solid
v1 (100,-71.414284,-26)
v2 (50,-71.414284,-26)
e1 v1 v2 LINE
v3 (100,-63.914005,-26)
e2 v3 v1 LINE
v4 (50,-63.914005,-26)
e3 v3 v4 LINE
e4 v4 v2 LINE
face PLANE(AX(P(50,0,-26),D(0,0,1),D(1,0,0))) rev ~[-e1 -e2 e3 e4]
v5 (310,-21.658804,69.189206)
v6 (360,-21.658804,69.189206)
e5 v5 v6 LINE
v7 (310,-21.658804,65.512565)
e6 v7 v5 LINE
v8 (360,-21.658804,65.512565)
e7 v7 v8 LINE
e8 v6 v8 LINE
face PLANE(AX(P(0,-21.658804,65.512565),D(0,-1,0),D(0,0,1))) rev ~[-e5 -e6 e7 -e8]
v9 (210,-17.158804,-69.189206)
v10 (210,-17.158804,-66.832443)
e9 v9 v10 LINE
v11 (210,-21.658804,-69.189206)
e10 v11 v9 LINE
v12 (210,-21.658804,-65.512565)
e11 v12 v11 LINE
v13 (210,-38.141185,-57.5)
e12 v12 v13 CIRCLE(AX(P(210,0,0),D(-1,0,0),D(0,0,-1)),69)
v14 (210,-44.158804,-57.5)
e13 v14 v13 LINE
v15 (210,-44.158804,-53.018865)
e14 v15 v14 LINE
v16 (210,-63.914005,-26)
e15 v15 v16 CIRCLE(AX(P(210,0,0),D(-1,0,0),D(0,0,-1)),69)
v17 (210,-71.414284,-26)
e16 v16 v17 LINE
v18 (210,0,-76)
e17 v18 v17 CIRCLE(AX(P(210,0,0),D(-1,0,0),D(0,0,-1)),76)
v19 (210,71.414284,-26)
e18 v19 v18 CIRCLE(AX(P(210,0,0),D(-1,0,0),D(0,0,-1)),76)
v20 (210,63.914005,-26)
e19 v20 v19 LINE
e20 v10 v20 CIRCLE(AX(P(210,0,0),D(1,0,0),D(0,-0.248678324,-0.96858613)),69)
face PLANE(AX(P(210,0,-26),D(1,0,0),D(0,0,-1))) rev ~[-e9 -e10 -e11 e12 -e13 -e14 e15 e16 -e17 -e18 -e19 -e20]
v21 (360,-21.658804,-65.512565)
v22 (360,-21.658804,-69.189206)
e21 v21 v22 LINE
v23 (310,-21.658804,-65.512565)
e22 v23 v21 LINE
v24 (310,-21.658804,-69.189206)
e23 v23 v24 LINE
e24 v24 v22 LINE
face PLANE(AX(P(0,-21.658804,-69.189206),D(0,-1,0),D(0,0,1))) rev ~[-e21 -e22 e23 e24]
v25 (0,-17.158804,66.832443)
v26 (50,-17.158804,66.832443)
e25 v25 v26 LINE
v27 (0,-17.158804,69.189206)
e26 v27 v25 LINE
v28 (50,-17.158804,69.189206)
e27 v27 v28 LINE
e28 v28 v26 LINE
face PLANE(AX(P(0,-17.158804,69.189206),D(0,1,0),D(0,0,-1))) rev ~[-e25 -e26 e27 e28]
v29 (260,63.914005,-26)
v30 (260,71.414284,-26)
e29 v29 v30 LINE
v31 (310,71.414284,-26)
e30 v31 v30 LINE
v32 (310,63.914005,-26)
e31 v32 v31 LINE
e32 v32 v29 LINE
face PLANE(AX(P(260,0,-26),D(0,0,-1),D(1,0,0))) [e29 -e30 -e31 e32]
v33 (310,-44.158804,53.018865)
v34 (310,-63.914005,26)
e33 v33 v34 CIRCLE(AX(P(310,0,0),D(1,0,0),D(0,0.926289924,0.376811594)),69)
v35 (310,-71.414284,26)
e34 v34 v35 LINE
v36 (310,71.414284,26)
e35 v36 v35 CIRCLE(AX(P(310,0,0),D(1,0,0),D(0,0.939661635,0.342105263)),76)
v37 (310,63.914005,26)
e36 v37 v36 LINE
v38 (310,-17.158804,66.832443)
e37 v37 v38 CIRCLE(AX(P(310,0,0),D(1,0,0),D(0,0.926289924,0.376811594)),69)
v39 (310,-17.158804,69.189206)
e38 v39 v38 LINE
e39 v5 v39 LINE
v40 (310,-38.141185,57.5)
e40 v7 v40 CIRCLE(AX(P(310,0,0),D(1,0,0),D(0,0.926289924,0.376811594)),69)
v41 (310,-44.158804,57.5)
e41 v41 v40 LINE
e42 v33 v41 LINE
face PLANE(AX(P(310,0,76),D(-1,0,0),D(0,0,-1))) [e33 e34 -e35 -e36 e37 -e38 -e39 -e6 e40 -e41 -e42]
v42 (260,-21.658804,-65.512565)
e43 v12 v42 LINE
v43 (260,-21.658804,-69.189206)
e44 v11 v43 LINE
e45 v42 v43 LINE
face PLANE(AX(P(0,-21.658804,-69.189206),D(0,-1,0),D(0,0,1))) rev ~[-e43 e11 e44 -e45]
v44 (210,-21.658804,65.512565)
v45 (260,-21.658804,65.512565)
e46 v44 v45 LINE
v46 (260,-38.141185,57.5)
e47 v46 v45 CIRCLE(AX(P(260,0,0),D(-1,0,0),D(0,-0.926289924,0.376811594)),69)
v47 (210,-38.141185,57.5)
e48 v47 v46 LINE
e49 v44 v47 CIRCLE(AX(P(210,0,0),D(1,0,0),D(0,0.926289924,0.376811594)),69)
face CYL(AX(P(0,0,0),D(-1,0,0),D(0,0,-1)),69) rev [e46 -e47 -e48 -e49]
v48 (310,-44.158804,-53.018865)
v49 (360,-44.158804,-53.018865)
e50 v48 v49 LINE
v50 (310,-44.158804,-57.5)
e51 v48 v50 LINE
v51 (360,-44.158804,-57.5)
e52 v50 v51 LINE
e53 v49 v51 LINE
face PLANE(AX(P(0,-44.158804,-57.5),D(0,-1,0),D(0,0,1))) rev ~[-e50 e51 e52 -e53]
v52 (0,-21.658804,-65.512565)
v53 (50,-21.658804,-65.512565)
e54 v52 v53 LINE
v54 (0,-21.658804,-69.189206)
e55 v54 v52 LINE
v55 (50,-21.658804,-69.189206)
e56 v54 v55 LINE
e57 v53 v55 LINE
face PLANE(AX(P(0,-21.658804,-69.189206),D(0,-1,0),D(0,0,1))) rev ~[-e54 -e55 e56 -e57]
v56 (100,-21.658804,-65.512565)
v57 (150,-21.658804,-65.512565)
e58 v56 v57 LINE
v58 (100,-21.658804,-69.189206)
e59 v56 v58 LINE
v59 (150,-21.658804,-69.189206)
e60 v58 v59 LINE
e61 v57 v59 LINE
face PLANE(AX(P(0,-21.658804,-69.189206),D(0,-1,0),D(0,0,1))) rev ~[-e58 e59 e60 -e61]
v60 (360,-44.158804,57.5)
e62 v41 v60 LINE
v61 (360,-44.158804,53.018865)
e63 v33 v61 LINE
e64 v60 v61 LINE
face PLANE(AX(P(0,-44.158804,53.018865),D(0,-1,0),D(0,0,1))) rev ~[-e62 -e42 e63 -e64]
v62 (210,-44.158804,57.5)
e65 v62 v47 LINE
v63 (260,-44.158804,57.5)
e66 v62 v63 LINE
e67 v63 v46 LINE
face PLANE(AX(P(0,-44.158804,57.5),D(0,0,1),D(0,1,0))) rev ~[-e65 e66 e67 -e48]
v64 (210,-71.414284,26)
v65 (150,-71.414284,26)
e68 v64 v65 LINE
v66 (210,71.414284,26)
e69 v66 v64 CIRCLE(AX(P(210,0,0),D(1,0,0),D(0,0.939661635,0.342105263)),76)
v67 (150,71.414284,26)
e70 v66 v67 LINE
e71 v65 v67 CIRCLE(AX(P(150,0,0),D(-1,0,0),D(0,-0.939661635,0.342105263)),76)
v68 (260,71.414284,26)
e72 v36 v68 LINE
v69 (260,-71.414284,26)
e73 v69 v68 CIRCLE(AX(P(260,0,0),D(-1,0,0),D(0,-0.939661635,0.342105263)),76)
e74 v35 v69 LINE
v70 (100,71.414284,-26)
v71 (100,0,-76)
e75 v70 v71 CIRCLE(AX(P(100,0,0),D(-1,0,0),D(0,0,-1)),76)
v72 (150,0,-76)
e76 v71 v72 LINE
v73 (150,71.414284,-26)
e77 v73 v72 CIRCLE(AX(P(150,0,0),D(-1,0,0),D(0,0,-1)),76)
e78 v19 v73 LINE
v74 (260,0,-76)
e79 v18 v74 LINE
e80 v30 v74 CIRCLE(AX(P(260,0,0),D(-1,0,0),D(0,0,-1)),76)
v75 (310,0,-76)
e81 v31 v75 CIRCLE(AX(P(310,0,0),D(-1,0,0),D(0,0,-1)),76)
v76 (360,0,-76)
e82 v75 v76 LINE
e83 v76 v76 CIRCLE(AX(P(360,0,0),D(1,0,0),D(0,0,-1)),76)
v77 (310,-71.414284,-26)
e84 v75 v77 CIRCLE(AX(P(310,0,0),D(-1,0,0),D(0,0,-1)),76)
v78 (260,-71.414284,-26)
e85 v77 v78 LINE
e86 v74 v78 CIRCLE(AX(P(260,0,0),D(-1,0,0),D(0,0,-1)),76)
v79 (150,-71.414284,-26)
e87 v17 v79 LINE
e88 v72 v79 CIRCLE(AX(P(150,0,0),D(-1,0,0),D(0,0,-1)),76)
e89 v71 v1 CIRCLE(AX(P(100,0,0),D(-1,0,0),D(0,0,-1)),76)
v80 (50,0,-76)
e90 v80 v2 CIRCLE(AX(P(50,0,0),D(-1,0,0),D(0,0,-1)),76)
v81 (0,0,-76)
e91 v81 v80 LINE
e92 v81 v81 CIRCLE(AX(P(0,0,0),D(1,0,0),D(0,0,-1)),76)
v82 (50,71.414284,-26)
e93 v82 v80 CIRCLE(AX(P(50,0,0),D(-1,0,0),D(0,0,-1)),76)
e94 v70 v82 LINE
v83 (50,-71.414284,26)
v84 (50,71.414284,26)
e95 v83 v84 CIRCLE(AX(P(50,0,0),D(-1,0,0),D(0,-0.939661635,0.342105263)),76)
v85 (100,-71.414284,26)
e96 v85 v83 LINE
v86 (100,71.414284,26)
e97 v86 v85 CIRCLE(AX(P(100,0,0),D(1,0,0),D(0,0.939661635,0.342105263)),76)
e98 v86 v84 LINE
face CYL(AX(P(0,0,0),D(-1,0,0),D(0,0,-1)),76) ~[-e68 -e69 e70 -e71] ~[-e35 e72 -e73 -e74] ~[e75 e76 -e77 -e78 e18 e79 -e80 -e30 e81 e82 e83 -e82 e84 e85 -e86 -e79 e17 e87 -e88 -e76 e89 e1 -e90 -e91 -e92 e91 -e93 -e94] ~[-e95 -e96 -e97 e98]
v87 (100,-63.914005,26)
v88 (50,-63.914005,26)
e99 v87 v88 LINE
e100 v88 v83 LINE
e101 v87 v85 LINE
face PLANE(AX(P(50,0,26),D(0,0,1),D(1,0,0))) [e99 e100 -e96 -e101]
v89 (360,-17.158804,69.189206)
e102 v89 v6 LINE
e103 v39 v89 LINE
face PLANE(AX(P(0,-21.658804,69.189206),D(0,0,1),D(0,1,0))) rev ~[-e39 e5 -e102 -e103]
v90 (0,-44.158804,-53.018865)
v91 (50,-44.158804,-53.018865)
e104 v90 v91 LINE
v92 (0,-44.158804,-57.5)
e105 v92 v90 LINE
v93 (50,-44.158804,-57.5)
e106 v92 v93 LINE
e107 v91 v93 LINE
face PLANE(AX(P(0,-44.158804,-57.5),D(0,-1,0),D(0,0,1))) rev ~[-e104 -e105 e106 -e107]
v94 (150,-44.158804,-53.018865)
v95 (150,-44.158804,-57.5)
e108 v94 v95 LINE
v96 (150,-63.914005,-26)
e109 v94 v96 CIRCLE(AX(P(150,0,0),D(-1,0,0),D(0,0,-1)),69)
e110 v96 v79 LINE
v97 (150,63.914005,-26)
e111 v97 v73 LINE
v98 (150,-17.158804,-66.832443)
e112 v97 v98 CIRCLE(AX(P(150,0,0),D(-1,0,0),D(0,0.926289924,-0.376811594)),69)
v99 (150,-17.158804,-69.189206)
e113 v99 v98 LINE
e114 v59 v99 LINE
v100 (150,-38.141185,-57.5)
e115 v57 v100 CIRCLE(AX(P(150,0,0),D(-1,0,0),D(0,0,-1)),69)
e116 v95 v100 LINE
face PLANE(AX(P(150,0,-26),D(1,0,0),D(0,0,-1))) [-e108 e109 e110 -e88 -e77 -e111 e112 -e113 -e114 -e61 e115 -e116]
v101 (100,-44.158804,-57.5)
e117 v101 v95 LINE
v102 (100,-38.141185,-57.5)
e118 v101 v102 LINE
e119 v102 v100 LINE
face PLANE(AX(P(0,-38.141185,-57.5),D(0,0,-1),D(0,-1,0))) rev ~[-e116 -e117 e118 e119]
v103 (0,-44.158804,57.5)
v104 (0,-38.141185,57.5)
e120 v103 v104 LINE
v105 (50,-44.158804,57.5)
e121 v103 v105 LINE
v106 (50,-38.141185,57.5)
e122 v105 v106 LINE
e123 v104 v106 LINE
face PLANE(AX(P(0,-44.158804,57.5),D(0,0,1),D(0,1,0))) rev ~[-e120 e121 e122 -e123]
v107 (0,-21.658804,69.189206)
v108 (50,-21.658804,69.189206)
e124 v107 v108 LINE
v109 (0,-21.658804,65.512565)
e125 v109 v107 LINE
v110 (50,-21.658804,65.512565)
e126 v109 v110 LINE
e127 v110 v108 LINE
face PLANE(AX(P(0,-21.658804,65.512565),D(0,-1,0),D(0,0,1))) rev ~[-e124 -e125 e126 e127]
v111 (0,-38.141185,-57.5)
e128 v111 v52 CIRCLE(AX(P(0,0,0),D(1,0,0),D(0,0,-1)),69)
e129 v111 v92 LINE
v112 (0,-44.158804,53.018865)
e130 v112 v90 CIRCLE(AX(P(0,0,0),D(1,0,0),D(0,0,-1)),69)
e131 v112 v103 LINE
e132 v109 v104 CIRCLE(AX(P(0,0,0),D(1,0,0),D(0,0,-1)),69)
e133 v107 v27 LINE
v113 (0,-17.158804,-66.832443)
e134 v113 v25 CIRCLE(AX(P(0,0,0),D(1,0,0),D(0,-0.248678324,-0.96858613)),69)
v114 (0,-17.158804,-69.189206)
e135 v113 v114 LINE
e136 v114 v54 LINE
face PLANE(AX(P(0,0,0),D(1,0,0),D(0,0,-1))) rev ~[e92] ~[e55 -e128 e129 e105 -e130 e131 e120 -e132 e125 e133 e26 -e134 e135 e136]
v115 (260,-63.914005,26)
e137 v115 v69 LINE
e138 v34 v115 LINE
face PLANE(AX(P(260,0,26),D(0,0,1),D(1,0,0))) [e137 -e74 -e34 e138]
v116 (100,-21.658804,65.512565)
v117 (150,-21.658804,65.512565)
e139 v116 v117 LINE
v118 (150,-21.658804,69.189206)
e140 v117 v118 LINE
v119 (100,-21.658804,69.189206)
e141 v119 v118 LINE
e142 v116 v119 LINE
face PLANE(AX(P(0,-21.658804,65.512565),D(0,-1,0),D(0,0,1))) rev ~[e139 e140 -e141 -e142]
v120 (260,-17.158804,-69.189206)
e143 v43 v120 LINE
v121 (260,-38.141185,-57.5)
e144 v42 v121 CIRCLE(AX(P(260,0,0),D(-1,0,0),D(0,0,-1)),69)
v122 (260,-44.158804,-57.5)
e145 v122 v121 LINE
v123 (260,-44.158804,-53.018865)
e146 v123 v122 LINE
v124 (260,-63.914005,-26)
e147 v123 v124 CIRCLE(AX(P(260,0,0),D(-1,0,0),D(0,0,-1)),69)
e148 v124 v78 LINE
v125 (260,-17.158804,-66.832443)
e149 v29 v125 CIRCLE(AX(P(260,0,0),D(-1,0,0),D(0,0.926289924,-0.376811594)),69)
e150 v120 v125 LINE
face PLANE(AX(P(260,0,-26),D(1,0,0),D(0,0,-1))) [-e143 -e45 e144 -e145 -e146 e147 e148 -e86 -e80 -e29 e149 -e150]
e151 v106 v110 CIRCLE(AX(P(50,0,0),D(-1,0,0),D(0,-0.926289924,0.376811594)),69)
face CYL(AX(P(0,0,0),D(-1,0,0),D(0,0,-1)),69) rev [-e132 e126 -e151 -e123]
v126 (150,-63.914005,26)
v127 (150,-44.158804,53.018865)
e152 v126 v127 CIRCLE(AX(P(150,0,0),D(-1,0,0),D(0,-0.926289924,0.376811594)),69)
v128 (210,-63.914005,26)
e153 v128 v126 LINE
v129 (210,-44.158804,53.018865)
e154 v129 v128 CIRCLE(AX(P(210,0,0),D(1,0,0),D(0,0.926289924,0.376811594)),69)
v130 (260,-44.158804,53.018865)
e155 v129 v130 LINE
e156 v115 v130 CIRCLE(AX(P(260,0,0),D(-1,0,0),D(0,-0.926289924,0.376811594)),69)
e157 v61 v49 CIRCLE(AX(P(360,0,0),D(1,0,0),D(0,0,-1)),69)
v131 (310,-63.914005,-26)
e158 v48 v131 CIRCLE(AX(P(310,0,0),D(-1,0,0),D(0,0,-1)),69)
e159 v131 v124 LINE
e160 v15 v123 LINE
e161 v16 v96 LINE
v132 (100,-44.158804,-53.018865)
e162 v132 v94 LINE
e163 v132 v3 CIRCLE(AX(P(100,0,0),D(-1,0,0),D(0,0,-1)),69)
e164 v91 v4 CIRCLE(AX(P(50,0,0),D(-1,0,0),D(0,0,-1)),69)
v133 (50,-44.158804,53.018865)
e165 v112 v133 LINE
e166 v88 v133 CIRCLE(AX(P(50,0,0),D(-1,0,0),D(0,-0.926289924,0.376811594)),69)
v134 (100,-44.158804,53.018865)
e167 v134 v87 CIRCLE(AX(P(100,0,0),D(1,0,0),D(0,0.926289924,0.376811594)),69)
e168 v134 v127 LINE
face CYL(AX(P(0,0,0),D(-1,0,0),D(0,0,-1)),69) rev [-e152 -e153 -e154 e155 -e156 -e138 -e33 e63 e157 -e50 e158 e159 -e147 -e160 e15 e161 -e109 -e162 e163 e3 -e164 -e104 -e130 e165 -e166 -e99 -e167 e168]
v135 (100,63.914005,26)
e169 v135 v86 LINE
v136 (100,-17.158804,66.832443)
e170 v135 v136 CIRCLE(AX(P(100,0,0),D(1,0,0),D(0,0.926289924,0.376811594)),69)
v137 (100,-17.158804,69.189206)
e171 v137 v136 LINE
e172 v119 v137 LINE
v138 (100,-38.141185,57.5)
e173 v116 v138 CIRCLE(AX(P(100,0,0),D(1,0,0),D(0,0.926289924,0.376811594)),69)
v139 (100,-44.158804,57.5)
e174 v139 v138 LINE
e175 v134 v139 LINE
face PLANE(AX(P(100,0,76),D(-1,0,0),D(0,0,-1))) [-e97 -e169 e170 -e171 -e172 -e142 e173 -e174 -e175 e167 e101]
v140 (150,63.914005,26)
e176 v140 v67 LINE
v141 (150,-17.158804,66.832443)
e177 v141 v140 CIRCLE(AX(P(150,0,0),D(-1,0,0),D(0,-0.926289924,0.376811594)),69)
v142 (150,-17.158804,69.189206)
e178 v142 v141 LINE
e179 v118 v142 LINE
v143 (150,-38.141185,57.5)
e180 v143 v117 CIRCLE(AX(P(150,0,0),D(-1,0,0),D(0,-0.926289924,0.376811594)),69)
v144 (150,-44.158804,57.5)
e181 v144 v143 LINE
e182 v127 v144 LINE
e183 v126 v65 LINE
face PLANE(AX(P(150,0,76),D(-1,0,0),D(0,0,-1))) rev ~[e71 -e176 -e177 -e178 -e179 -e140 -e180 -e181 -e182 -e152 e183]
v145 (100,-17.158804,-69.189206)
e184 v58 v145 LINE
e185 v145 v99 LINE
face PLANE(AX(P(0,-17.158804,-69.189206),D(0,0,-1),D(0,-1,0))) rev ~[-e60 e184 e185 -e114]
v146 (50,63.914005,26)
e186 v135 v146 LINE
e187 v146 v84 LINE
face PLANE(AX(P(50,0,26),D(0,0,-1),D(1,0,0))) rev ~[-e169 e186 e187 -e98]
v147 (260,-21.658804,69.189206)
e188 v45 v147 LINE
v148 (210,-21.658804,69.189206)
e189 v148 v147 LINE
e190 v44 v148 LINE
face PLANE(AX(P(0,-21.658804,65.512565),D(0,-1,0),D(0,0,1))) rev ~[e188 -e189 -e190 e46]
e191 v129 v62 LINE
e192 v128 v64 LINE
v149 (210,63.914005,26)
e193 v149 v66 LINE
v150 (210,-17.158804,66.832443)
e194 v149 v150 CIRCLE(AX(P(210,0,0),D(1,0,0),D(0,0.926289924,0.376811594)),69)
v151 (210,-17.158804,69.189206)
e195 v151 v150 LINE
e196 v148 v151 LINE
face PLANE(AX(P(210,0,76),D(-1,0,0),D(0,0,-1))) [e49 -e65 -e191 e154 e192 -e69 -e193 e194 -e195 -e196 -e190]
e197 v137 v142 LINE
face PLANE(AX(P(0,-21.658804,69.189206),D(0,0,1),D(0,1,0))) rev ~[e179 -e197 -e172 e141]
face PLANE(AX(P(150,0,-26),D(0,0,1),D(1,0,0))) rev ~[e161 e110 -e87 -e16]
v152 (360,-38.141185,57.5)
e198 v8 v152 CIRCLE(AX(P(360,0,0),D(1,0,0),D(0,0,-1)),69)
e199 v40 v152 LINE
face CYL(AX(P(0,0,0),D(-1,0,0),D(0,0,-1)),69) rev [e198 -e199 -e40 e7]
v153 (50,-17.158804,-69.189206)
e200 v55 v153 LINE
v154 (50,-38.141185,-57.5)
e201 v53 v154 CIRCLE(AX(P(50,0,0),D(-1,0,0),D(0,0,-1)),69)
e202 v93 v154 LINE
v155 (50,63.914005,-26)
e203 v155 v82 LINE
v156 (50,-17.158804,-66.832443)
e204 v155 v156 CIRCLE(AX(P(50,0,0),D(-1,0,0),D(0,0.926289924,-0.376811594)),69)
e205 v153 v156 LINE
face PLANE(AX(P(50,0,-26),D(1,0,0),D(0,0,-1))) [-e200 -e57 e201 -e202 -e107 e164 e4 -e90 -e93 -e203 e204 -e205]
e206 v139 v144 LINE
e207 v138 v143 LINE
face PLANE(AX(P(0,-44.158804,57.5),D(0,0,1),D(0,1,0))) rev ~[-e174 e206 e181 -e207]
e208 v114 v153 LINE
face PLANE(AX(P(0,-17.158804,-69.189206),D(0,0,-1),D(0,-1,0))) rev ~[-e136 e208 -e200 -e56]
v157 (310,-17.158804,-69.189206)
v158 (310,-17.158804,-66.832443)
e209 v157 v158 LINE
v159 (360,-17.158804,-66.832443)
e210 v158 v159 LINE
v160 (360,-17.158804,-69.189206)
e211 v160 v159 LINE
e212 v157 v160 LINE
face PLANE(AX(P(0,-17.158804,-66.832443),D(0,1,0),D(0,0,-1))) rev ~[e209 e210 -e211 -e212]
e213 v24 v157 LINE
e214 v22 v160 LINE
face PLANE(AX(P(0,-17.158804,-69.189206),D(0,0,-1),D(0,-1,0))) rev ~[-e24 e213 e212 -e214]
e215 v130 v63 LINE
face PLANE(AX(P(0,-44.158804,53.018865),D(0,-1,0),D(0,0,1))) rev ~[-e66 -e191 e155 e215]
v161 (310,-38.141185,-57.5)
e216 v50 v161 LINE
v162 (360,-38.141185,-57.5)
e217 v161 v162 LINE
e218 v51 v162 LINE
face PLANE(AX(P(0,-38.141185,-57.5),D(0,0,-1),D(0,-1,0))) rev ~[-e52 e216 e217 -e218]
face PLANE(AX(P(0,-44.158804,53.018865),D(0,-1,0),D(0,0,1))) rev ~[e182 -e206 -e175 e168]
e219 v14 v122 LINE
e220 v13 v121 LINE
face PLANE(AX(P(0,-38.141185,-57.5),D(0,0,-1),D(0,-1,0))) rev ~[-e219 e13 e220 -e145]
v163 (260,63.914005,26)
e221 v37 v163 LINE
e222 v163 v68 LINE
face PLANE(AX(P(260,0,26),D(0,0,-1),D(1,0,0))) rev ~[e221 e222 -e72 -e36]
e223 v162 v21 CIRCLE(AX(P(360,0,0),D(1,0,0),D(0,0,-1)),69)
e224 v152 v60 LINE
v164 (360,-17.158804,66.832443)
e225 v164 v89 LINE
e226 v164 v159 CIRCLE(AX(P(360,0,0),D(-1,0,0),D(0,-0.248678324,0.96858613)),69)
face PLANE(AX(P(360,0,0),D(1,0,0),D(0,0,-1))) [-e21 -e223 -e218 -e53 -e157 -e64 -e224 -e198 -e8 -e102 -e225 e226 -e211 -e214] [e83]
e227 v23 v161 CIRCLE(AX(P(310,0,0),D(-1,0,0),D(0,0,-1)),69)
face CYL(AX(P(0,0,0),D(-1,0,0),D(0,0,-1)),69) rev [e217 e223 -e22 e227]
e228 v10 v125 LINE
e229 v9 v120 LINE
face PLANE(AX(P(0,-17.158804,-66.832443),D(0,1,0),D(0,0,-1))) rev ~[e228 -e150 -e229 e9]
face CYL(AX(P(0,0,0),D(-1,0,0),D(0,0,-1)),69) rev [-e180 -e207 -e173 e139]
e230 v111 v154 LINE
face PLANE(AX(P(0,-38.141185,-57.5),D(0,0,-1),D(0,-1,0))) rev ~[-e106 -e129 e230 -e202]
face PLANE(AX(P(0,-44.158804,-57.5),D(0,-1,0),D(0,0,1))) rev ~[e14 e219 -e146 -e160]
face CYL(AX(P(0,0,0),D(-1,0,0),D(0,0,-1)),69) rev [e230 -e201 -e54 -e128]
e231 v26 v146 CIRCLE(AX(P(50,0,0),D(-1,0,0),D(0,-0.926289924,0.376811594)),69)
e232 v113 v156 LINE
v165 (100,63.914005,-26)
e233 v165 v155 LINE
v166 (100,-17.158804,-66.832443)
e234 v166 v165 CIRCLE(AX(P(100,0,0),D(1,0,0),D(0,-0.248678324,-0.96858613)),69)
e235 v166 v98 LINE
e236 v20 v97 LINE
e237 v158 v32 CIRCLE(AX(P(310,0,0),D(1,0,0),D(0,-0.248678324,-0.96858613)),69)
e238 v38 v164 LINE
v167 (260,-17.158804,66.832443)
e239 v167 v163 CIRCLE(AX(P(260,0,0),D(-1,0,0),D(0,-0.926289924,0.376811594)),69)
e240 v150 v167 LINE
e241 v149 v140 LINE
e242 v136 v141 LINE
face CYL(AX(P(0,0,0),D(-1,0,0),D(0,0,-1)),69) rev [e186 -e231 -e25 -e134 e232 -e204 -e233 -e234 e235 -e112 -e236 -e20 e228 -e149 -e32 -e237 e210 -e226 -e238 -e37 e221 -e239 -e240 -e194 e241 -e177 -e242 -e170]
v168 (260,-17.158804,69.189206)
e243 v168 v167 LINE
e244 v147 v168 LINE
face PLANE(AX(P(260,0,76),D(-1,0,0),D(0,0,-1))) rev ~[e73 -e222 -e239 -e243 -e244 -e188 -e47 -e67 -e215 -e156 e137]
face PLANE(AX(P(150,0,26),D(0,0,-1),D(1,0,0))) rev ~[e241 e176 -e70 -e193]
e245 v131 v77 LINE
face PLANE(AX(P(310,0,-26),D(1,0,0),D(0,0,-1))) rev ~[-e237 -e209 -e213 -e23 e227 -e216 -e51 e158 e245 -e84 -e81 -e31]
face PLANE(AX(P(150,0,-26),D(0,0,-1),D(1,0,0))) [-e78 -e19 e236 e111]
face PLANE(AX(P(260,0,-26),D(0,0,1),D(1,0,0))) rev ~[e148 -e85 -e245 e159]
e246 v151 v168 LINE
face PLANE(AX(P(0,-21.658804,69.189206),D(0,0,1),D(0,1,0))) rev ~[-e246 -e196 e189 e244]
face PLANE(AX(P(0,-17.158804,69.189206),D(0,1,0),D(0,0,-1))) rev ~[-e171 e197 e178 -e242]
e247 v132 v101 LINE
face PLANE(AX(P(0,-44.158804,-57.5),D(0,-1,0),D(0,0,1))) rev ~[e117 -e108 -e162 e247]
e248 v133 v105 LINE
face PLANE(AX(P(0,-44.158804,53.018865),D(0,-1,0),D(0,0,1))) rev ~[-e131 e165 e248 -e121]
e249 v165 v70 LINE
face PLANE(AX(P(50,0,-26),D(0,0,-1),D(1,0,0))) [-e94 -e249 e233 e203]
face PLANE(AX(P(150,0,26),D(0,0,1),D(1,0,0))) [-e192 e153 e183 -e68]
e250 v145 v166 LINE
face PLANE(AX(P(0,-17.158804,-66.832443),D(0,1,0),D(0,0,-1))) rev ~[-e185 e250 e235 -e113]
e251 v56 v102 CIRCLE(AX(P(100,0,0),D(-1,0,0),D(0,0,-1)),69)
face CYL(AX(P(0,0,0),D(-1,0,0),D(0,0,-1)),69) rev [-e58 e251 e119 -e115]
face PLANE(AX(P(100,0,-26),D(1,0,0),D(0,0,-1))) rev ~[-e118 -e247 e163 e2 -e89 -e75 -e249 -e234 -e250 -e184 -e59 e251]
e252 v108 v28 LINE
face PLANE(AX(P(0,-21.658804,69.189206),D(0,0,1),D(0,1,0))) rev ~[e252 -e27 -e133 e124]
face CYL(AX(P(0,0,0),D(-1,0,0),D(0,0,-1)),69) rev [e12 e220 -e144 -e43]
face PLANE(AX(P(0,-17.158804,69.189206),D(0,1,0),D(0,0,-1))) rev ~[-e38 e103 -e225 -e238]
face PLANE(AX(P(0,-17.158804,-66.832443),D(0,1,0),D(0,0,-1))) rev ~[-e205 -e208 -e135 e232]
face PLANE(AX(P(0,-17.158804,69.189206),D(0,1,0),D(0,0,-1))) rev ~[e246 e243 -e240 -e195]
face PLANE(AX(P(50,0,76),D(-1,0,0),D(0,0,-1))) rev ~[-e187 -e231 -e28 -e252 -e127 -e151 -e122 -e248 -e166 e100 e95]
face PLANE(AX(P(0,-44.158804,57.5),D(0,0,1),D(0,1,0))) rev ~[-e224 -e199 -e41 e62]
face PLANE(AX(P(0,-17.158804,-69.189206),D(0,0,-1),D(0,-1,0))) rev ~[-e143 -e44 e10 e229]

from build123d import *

# Parameters (mm, degrees)
SKETCH1_R               = 76
SKETCH1_R_2             = 69
BOSS_EXTRUDE3_DEPTH     = 360
SKETCH2_W               = 50
SKETCH2_H               = 50
SKETCH2_W_2             = 60
CUT_EXTRUDE1_DEPTH      = 125
CUT_EXTRUDE1_DEPTH_BACK = 135
SKETCH3_W               = 60
SKETCH3_H               = 50
SKETCH3_W_2             = 50
CUT_EXTRUDE3_DEPTH      = 196
CUT_EXTRUDE3_DEPTH_BACK = 244
CUT_EXTRUDE4_DEPTH      = 404


with BuildPart() as part:
    # Sketch1 → Boss-Extrude3 (new body)
    with BuildSketch(Plane(origin=(0, 0, 0), x_dir=(0, 0, -1), z_dir=(1, 0, 0))):
        Circle(SKETCH1_R)
        Circle(SKETCH1_R_2, mode=Mode.SUBTRACT)
    extrude(amount=BOSS_EXTRUDE3_DEPTH)

    # Sketch2 → Cut-Extrude1 (cut, two sides)
    with BuildSketch(Plane(origin=(0, 0, 0), x_dir=(1, 0, 0), z_dir=(0, 1, 0))) as cut_extrude1_sk:
        with Locations((75, 51)):
            Rectangle(SKETCH2_W, SKETCH2_H)
        with Locations((285, 51)):
            Rectangle(SKETCH2_W, SKETCH2_H)
        with Locations((180, 51)):
            Rectangle(SKETCH2_W_2, SKETCH2_H)
    extrude(amount=CUT_EXTRUDE1_DEPTH, mode=Mode.SUBTRACT)
    extrude(cut_extrude1_sk.sketch, amount=-CUT_EXTRUDE1_DEPTH_BACK, mode=Mode.SUBTRACT)

    # Sketch3 → Cut-Extrude3 (cut, two sides)
    with BuildSketch(Plane(origin=(0, 0, 0), x_dir=(1, 0, 0), z_dir=(0, 1, 0))) as cut_extrude3_sk:
        with Locations((180, -51)):
            Rectangle(SKETCH3_W, SKETCH3_H)
        with Locations((75, -51)):
            Rectangle(SKETCH3_W_2, SKETCH3_H)
        with Locations((285, -51)):
            Rectangle(SKETCH3_W_2, SKETCH3_H)
    extrude(amount=CUT_EXTRUDE3_DEPTH, mode=Mode.SUBTRACT)
    extrude(cut_extrude3_sk.sketch, amount=-CUT_EXTRUDE3_DEPTH_BACK, mode=Mode.SUBTRACT)

    # Sketch4 → Cut-Extrude4 (cut)
    with BuildSketch(Plane.ZY):
        with BuildLine():
            Line((-69.189205769, -21.658804332), (-65.512565168, -21.658804332))
            ThreePointArc((-65.512565168, -21.658804332), (-66.210745314, -19.420020724), (-66.832442974, -17.158804332))
            Line((-66.832442974, -17.158804332), (-69.189205769, -17.158804332))
            Line((-69.189205769, -17.158804332), (-69.189205769, -21.658804332))
        make_face()
        with BuildLine():
            Line((-57.5, -38.141185089), (-57.5, -44.158804332))
            Line((-57.5, -44.158804332), (-53.018864567, -44.158804332))
            ThreePointArc((-53.018864567, -44.158804332), (-55.341284695, -41.210947676), (-57.5, -38.141185089))
        make_face()
        with BuildLine():
            ThreePointArc((57.5, -38.141185089), (55.341284695, -41.210947676), (53.018864567, -44.158804332))
            Line((53.018864567, -44.158804332), (57.5, -44.158804332))
            Line((57.5, -44.158804332), (57.5, -38.141185089))
        make_face()
        with BuildLine():
            ThreePointArc((66.832442974, -17.158804332), (66.210745314, -19.420020724), (65.512565168, -21.658804332))
            Line((65.512565168, -21.658804332), (69.189205769, -21.658804332))
            Line((69.189205769, -21.658804332), (69.189205769, -17.158804332))
            Line((69.189205769, -17.158804332), (66.832442974, -17.158804332))
        make_face()
    extrude(amount=-CUT_EXTRUDE4_DEPTH, mode=Mode.SUBTRACT)


solid = part.part
